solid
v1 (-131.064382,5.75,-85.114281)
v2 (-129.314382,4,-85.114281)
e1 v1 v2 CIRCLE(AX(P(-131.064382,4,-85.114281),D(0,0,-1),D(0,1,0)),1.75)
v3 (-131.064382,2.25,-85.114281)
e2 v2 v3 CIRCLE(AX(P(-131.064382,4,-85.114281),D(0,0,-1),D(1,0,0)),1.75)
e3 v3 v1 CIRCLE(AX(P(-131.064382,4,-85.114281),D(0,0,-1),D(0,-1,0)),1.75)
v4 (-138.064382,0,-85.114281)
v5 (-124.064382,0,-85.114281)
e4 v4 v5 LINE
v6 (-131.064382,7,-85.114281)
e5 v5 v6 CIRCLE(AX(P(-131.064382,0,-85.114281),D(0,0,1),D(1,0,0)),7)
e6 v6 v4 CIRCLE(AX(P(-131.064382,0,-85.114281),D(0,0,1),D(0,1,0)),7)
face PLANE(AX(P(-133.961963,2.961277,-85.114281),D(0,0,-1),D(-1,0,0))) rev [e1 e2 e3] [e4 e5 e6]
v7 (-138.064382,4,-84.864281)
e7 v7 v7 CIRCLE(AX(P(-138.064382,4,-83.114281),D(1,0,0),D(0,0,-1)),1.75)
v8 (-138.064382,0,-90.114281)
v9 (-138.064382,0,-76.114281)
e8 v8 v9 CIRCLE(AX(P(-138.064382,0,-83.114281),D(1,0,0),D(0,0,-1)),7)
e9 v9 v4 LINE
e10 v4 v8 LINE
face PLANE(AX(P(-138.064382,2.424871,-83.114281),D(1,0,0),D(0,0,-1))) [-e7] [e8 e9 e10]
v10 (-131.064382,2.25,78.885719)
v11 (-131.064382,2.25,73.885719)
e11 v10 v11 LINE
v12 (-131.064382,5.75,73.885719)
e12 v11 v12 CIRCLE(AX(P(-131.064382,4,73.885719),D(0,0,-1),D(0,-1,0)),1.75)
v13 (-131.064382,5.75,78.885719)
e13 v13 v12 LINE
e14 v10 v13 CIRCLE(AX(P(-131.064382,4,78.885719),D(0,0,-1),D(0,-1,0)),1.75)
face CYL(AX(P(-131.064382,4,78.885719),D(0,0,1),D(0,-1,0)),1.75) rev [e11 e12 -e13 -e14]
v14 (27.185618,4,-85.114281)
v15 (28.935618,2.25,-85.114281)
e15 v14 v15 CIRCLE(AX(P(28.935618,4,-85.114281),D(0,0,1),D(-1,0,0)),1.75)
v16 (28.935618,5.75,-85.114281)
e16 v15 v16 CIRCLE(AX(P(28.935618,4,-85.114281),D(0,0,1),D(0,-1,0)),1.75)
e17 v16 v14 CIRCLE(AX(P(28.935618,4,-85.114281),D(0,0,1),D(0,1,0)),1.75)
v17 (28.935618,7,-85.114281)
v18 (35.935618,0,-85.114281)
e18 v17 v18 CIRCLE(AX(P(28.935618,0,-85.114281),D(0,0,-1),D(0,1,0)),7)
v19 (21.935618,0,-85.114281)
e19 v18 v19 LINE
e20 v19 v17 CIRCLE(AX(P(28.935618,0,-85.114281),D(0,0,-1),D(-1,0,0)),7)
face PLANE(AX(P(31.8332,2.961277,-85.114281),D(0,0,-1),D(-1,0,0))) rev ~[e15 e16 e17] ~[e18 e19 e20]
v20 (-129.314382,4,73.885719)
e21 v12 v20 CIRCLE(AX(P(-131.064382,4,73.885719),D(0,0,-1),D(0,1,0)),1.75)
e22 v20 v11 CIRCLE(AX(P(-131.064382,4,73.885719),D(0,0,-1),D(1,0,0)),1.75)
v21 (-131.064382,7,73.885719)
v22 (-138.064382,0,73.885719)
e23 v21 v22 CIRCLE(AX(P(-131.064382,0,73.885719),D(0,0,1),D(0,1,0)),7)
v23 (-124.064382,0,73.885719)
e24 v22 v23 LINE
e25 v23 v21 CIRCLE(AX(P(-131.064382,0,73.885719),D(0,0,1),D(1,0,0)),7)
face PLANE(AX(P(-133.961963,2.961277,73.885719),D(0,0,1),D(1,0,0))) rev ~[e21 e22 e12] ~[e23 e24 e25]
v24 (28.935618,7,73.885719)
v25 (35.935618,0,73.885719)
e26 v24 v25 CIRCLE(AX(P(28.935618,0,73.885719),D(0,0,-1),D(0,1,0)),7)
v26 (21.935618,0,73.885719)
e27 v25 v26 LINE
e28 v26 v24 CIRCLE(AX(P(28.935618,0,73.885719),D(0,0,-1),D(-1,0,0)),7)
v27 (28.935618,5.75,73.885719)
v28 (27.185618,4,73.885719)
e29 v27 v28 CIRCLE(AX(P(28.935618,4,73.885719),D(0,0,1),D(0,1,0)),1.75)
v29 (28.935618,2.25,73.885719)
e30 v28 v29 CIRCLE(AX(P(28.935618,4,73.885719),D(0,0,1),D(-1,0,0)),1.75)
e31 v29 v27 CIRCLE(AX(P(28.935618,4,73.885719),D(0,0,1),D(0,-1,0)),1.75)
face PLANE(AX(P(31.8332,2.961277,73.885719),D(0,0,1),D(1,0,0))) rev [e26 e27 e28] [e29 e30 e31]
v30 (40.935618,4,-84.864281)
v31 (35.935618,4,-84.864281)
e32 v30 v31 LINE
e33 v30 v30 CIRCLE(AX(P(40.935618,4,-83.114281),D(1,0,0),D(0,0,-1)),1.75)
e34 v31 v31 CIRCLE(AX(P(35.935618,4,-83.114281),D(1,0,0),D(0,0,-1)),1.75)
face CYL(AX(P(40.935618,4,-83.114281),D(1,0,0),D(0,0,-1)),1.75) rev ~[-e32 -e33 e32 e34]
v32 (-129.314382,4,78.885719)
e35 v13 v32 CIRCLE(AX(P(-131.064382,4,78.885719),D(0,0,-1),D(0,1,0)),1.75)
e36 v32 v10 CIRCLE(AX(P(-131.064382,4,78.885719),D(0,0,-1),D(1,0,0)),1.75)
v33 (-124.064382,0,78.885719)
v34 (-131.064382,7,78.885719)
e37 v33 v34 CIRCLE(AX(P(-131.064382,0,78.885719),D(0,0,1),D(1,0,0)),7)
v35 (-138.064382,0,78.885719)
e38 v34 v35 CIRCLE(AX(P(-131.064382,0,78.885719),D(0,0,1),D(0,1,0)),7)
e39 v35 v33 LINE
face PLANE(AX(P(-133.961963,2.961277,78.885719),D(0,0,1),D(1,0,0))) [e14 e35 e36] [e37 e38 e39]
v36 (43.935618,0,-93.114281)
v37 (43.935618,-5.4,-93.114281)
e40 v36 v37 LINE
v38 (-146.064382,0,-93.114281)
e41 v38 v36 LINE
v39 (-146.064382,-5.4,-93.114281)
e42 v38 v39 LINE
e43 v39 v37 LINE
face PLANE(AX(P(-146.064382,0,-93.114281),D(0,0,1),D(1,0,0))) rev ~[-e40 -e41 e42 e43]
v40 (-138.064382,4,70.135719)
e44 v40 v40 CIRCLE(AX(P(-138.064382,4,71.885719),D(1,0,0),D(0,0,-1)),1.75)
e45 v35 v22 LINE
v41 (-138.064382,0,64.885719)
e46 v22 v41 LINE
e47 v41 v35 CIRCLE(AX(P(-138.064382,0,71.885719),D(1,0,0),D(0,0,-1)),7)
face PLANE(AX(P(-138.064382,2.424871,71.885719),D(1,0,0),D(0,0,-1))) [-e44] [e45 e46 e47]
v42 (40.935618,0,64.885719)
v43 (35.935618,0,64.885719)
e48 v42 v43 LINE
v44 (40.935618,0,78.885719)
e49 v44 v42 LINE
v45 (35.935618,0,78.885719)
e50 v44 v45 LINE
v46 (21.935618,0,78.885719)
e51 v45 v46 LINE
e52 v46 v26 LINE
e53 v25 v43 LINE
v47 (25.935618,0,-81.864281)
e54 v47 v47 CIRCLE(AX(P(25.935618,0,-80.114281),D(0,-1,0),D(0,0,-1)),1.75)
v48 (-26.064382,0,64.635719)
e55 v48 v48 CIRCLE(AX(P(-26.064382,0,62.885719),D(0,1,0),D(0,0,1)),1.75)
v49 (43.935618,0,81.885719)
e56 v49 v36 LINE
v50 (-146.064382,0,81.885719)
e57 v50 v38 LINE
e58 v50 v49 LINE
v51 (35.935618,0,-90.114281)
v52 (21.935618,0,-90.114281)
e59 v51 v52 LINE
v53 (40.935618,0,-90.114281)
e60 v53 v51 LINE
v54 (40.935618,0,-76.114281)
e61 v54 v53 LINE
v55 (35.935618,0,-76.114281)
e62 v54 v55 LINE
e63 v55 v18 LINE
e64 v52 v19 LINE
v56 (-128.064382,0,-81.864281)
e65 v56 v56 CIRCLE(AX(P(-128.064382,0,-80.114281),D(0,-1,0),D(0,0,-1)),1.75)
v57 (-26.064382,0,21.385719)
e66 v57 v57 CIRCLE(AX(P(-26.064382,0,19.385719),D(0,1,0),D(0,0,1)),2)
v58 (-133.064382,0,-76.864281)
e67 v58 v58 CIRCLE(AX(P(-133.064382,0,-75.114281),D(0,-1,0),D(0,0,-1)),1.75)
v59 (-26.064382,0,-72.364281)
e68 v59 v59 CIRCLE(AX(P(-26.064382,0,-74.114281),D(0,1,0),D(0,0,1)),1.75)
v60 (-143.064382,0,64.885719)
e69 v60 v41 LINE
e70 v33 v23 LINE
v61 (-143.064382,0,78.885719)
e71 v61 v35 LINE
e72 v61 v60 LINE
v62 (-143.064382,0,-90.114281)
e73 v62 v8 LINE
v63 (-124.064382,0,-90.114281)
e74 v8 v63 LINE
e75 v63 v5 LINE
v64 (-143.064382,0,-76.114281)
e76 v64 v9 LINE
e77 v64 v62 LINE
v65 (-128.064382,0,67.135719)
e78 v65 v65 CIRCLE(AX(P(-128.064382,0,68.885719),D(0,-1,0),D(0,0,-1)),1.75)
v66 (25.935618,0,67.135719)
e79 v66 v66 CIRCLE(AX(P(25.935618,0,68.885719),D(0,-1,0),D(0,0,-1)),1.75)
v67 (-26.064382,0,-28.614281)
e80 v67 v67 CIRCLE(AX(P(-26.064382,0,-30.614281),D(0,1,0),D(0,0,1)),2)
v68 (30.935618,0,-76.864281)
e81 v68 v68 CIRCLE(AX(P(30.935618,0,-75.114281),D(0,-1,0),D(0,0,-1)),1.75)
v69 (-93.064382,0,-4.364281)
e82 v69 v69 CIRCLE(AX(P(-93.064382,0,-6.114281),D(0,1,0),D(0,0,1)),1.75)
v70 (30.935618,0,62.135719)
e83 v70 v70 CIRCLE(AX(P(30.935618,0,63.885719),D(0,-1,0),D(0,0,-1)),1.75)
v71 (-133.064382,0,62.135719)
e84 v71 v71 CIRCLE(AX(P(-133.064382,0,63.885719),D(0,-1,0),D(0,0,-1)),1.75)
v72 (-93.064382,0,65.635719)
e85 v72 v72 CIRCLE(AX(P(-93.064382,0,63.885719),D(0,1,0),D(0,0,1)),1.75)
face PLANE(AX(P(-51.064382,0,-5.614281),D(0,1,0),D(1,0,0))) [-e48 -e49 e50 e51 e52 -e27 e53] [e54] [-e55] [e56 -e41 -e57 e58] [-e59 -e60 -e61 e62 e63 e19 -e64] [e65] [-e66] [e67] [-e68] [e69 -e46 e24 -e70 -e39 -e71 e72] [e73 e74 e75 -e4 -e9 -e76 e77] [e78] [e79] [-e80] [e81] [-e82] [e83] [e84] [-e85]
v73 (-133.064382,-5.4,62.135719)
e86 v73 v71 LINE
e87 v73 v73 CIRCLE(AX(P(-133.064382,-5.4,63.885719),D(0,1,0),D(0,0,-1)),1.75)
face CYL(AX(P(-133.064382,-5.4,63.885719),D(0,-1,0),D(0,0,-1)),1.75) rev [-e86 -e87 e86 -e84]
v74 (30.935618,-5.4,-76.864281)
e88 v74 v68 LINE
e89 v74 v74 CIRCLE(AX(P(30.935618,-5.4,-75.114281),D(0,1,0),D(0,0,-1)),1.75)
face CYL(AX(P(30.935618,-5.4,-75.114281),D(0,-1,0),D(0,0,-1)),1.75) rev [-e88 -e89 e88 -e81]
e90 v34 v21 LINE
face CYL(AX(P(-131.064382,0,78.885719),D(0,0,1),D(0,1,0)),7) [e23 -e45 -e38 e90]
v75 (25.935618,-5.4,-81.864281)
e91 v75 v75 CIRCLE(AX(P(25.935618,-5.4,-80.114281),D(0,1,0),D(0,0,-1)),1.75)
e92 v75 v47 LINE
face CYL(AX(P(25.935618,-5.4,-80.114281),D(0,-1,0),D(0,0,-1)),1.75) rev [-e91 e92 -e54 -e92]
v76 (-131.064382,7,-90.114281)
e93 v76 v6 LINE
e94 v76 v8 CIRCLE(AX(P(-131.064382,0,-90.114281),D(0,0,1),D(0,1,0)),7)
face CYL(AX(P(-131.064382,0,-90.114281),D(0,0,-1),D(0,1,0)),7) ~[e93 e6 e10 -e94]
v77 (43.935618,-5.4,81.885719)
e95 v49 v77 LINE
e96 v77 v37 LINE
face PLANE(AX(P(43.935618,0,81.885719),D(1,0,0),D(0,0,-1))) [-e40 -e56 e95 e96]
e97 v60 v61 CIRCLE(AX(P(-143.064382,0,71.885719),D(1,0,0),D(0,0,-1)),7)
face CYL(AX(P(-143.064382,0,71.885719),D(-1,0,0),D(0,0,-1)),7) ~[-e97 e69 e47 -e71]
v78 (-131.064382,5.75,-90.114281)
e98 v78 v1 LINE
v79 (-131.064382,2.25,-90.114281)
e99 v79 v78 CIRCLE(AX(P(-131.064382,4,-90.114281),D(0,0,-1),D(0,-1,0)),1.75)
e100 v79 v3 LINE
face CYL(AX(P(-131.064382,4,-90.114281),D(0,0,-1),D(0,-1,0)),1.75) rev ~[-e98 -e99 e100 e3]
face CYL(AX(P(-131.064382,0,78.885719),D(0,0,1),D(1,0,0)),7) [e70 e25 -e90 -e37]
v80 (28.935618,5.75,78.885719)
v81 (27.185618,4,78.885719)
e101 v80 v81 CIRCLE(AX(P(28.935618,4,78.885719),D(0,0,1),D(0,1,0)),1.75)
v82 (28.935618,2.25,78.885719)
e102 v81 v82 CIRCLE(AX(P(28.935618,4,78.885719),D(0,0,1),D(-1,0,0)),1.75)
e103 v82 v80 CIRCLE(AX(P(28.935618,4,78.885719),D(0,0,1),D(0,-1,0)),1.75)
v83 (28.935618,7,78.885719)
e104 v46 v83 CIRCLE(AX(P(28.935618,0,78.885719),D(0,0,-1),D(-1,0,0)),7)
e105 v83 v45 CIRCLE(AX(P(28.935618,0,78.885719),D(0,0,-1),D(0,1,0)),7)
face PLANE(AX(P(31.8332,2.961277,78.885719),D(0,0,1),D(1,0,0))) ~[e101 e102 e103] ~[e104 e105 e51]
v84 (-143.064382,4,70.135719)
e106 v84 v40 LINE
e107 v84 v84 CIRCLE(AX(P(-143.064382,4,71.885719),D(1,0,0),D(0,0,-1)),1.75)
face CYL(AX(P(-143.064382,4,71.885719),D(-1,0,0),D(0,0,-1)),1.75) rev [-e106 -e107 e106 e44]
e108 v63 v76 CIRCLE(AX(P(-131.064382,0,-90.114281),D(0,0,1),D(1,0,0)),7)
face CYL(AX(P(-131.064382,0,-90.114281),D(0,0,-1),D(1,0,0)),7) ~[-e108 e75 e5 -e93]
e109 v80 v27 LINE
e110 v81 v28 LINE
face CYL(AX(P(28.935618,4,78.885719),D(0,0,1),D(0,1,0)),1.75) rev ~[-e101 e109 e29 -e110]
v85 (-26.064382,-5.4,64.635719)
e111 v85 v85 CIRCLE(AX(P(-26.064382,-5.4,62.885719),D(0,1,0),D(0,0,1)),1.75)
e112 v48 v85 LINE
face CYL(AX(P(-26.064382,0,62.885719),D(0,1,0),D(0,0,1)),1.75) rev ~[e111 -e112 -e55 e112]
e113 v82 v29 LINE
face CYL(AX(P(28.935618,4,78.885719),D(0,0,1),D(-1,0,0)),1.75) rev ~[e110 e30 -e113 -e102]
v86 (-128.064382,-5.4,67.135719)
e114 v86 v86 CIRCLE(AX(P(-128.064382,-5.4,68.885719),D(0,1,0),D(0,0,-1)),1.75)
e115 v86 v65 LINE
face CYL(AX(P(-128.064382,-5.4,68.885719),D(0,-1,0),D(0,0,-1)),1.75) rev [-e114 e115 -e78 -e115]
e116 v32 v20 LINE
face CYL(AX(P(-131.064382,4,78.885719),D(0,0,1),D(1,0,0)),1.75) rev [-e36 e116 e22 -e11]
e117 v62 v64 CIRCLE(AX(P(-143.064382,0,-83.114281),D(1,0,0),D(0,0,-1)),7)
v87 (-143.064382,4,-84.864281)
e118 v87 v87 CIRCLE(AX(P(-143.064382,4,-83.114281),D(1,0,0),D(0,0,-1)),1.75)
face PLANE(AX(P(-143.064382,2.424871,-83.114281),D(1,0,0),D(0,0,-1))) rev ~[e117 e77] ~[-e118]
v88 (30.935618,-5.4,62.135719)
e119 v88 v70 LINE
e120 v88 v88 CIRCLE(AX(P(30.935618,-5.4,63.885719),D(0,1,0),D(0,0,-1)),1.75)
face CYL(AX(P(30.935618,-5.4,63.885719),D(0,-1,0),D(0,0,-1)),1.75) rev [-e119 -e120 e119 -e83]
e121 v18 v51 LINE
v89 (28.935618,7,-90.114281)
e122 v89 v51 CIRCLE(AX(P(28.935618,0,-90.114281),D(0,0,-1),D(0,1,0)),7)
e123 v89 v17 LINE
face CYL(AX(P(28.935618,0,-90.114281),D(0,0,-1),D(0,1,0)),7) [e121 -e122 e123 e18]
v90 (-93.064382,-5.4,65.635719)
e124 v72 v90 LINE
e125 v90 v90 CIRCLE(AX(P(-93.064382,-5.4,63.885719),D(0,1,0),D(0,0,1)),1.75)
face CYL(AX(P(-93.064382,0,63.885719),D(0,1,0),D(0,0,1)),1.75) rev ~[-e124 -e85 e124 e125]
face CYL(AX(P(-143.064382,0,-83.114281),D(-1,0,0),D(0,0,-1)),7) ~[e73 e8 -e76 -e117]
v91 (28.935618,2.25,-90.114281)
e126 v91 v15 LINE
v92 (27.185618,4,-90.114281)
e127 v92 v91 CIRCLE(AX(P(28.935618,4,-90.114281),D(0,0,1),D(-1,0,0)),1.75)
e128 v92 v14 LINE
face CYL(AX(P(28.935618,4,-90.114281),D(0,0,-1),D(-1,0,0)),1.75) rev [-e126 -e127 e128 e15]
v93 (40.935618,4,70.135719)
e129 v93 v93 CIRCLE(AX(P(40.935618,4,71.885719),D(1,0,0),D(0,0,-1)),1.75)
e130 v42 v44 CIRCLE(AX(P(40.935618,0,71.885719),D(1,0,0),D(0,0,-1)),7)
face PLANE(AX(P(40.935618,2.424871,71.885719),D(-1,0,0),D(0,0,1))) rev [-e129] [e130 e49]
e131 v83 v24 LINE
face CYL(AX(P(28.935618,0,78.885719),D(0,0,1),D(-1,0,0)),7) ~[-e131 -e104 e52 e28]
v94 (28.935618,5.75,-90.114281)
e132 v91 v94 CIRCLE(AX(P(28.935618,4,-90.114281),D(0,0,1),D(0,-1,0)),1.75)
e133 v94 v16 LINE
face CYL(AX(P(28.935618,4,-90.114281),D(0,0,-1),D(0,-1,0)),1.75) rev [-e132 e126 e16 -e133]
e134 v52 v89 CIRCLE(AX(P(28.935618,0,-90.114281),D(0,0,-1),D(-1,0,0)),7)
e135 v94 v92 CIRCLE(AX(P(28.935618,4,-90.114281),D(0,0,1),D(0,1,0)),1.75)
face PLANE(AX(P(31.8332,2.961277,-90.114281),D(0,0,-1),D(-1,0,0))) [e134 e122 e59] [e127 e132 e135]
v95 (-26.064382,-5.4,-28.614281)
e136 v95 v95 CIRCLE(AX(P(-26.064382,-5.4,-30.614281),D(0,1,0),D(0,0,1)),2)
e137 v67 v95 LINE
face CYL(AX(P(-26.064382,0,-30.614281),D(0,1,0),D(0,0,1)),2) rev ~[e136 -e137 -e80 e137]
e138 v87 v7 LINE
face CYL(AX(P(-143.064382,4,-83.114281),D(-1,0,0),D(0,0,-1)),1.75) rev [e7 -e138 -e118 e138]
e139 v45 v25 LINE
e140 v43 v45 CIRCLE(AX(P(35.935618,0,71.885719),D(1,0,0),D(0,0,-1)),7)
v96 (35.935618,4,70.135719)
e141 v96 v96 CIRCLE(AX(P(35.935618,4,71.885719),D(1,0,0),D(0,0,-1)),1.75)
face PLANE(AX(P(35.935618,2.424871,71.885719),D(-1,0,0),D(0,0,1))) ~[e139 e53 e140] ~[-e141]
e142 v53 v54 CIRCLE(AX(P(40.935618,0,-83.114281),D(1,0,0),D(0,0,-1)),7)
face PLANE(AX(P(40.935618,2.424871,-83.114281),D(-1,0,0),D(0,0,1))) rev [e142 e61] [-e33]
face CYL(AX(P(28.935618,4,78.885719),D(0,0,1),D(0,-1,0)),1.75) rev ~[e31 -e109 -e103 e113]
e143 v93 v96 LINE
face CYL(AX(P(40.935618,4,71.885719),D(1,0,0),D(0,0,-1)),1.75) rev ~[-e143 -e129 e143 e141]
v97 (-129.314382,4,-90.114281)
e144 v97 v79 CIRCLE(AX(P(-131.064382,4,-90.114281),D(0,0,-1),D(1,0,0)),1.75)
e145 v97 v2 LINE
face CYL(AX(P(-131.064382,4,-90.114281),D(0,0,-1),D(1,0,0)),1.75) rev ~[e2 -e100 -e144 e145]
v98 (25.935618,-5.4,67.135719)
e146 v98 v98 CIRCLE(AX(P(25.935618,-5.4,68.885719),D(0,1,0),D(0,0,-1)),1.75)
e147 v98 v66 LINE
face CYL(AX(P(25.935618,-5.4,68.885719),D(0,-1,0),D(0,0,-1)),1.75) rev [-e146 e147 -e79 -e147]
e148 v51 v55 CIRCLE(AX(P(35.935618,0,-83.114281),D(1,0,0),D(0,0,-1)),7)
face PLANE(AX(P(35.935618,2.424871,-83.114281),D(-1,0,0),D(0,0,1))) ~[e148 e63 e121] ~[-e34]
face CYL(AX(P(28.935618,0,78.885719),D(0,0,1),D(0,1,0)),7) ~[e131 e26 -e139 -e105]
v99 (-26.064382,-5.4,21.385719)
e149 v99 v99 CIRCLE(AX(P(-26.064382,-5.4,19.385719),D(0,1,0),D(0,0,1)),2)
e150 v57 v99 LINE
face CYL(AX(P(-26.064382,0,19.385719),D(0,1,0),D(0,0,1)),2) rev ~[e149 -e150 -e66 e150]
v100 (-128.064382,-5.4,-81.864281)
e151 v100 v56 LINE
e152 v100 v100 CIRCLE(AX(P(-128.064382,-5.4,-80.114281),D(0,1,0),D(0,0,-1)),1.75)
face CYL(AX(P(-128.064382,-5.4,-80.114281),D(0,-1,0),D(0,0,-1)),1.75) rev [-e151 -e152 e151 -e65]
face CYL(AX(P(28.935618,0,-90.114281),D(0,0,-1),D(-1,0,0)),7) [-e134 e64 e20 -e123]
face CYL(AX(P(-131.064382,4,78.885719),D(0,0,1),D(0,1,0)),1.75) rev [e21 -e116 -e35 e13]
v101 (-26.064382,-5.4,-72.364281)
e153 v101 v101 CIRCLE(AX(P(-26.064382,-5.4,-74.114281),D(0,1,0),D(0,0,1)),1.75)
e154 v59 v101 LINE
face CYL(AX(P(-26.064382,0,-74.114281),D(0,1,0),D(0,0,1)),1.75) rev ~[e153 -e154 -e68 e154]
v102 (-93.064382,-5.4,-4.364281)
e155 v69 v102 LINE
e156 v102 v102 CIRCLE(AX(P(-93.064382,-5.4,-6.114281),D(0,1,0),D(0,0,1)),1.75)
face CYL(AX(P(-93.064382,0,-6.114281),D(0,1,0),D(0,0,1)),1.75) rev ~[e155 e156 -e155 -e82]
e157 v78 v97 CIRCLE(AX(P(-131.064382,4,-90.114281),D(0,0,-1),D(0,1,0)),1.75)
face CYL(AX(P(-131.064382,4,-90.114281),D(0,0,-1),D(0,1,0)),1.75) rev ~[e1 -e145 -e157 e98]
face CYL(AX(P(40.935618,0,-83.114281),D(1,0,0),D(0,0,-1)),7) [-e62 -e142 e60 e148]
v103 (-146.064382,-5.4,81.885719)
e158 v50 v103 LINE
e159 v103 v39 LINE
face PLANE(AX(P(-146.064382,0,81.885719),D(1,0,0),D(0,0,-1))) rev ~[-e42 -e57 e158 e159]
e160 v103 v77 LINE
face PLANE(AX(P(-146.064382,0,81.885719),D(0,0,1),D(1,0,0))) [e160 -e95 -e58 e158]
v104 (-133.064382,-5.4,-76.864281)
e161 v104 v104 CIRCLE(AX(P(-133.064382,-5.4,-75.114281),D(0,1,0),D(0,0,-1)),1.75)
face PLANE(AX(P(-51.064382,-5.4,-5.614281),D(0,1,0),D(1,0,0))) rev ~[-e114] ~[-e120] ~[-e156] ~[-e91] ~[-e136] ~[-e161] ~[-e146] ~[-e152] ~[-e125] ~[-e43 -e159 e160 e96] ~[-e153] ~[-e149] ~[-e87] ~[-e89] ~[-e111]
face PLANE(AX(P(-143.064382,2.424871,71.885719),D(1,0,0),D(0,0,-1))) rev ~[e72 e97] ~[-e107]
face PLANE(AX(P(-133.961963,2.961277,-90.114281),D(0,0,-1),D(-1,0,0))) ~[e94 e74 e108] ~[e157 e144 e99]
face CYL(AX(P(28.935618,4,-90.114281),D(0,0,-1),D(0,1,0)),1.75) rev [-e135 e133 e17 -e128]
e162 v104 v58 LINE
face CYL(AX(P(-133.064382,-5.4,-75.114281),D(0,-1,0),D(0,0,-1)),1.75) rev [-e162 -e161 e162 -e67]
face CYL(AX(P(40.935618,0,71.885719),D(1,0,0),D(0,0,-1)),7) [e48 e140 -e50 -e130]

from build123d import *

# Parameters (mm, degrees)
SKETCH1_W                   = 190
SKETCH1_H                   = 175
SKETCH1_R                   = 2
SKETCH1_R_2                 = 1.75
BASE_DEPTH                  = 5.4
SKETCH3_R                   = 1.75
LONG_SIDE_CONNECTORS_DEPTH  = 5
SHORT_SIDE_CONNECTORS_DEPTH = 5
MIRROR3_COPY_1_DEPTH        = 5
CUT_EXTRUDE6_START          = -5.4
SKETCH11_R                  = 1.75
CUT_EXTRUDE6_DEPTH          = 179.761105811


with BuildPart() as part:
    # Sketch1 → Base (new body)
    with BuildSketch(Plane(origin=(0, 0, 0), x_dir=(1, 0, 0), z_dir=(0, 1, 0))):
        with Locations((-51.064381671, 5.614281477)):
            Rectangle(SKETCH1_W, SKETCH1_H)
        with Locations(Location((-26.064381671, 30.614281477, 0), (0, 0, 270))):
            Circle(SKETCH1_R, mode=Mode.SUBTRACT)
        with Locations(Location((-26.064381671, -19.385718523, 0), (0, 0, 270))):
            Circle(SKETCH1_R, mode=Mode.SUBTRACT)
        with Locations(Location((-26.064381671, -62.885718523, 0), (0, 0, 270))):
            Circle(SKETCH1_R_2, mode=Mode.SUBTRACT)
        with Locations(Location((-26.064381671, 74.114281477, 0), (0, 0, 270))):
            Circle(SKETCH1_R_2, mode=Mode.SUBTRACT)
        with Locations(Location((-93.064381671, 6.114281477, 0), (0, 0, 270))):
            Circle(SKETCH1_R_2, mode=Mode.SUBTRACT)
        with Locations(Location((-93.064381671, -63.885718523, 0), (0, 0, 270))):
            Circle(SKETCH1_R_2, mode=Mode.SUBTRACT)
    extrude(amount=-BASE_DEPTH)

    # Sketch3 → Long_Side_connectors (add)
    # profile 1 of 2: a face of its own
    with BuildSketch(Plane(origin=(-143.064381671, 0, 0), x_dir=(0, 0, -1), z_dir=(1, 0, 0))):
        with BuildLine():
            Line((76.114281477, 0), (90.114281477, 0))
            ThreePointArc((90.114281477, 0), (83.114281477, 7), (76.114281477, 0))
        make_face()
        with Locations((83.114281477, 4)):
            Circle(SKETCH3_R, mode=Mode.SUBTRACT)
    # profile 2 of 2: a face of its own
    with BuildSketch(Plane(origin=(-143.064381671, 0, 0), x_dir=(0, 0, -1), z_dir=(1, 0, 0))):
        with BuildLine():
            Line((-78.885718523, 0), (-64.885718523, 0))
            ThreePointArc((-64.885718523, 0), (-71.885718523, 7), (-78.885718523, 0))
        make_face()
        with Locations((-71.885718523, 4)):
            Circle(SKETCH3_R, mode=Mode.SUBTRACT)
    long_side_connectors = extrude(amount=LONG_SIDE_CONNECTORS_DEPTH)

    # Sketch4 → Short_side_connectors (add)
    with BuildSketch(Plane.XY.offset(78.885718523)):
        with BuildLine():
            ThreePointArc((-131.064381671, 7), (-136.014129139, 4.949747468), (-138.064381671, 0))
            Line((-138.064381671, 0), (-131.064381671, 0))
            Line((-131.064381671, 0), (-131.064381671, 2.25))
            ThreePointArc((-131.064381671, 2.25), (-132.814381671, 4), (-131.064381671, 5.75))
            Line((-131.064381671, 5.75), (-131.064381671, 7))
        make_face()
        with BuildLine():
            Line((-131.064381671, 2.25), (-131.064381671, 0))
            Line((-131.064381671, 0), (-124.064381671, 0))
            ThreePointArc((-124.064381671, 0), (-126.114634203, 4.949747468), (-131.064381671, 7))
            Line((-131.064381671, 7), (-131.064381671, 5.75))
            ThreePointArc((-131.064381671, 5.75), (-129.826944804, 5.237436867), (-129.314381671, 4))
            ThreePointArc((-129.314381671, 4), (-129.826944804, 2.762563133), (-131.064381671, 2.25))
        make_face()
        with BuildLine():
            ThreePointArc((-131.064381671, 7), (-136.014129139, 4.949747468), (-138.064381671, 0))
            Line((-138.064381671, 0), (-131.064381671, 0))
            Line((-131.064381671, 0), (-131.064381671, 2.25))
            ThreePointArc((-131.064381671, 2.25), (-132.814381671, 4), (-131.064381671, 5.75))
            Line((-131.064381671, 5.75), (-131.064381671, 7))
        make_face()
        with BuildLine():
            Line((-131.064381671, 2.25), (-131.064381671, 0))
            Line((-131.064381671, 0), (-124.064381671, 0))
            ThreePointArc((-124.064381671, 0), (-126.114634203, 4.949747468), (-131.064381671, 7))
            Line((-131.064381671, 7), (-131.064381671, 5.75))
            ThreePointArc((-131.064381671, 5.75), (-129.826944804, 5.237436867), (-129.314381671, 4))
            ThreePointArc((-129.314381671, 4), (-129.826944804, 2.762563133), (-131.064381671, 2.25))
        make_face()
    short_side_connectors = extrude(amount=-SHORT_SIDE_CONNECTORS_DEPTH)

    # Mirror1: Short_side_connectors across plane
    add(short_side_connectors.mirror(Plane.XY.offset(-5.614281477)))

    # Mirror3: Long_Side_connectors, Short_side_connectors across plane
    add(long_side_connectors.mirror(Plane(origin=(-51.064381671, 0, 0), x_dir=(0, 0, 1), z_dir=(1, 0, 0))))
    add(short_side_connectors.mirror(Plane(origin=(-51.064381671, 0, 0), x_dir=(0, 0, 1), z_dir=(1, 0, 0))))

    # Mirror3 copy 1 sketch → Mirror3 copy 1 (add)
    with BuildSketch(Plane(origin=(-102.128763342, 0, -90.114281477), x_dir=(-1, 0, 0), z_dir=(0, 0, -1))):
        with BuildLine():
            ThreePointArc((-131.064381671, 7), (-136.014129139, 4.949747468), (-138.064381671, 0))
            Line((-138.064381671, 0), (-131.064381671, 0))
            Line((-131.064381671, 0), (-131.064381671, 2.25))
            ThreePointArc((-131.064381671, 2.25), (-132.814381671, 4), (-131.064381671, 5.75))
            Line((-131.064381671, 5.75), (-131.064381671, 7))
        make_face()
        with BuildLine():
            Line((-131.064381671, 2.25), (-131.064381671, 0))
            Line((-131.064381671, 0), (-124.064381671, 0))
            ThreePointArc((-124.064381671, 0), (-126.114634203, 4.949747468), (-131.064381671, 7))
            Line((-131.064381671, 7), (-131.064381671, 5.75))
            ThreePointArc((-131.064381671, 5.75), (-129.826944804, 5.237436867), (-129.314381671, 4))
            ThreePointArc((-129.314381671, 4), (-129.826944804, 2.762563133), (-131.064381671, 2.25))
        make_face()
        with BuildLine():
            ThreePointArc((-131.064381671, 7), (-136.014129139, 4.949747468), (-138.064381671, 0))
            Line((-138.064381671, 0), (-131.064381671, 0))
            Line((-131.064381671, 0), (-131.064381671, 2.25))
            ThreePointArc((-131.064381671, 2.25), (-132.814381671, 4), (-131.064381671, 5.75))
            Line((-131.064381671, 5.75), (-131.064381671, 7))
        make_face()
        with BuildLine():
            Line((-131.064381671, 2.25), (-131.064381671, 0))
            Line((-131.064381671, 0), (-124.064381671, 0))
            ThreePointArc((-124.064381671, 0), (-126.114634203, 4.949747468), (-131.064381671, 7))
            Line((-131.064381671, 7), (-131.064381671, 5.75))
            ThreePointArc((-131.064381671, 5.75), (-129.826944804, 5.237436867), (-129.314381671, 4))
            ThreePointArc((-129.314381671, 4), (-129.826944804, 2.762563133), (-131.064381671, 2.25))
        make_face()
    extrude(amount=-MIRROR3_COPY_1_DEPTH)

    # Sketch11 → Cut-Extrude6 (cut, through all)
    with BuildSketch(Plane(origin=(0, 0, 0), x_dir=(1, 0, 0), z_dir=(0, 1, 0)).offset(CUT_EXTRUDE6_START)):
        with Locations(Location((-133.064381671, -63.885718523, 0), (0, 0, 90))):
            Circle(SKETCH11_R)
        with Locations(Location((-128.064381671, -68.885718523, 0), (0, 0, 90))):
            Circle(SKETCH11_R)
        with Locations(Location((-133.064381671, 75.114281477, 0), (0, 0, 90))):
            Circle(SKETCH11_R)
        with Locations(Location((-128.064381671, 80.114281477, 0), (0, 0, 90))):
            Circle(SKETCH11_R)
        with Locations(Location((30.935618329, -63.885718523, 0), (0, 0, 90))):
            Circle(SKETCH11_R)
        with Locations(Location((25.935618329, -68.885718523, 0), (0, 0, 90))):
            Circle(SKETCH11_R)
        with Locations(Location((30.935618329, 75.114281477, 0), (0, 0, 90))):
            Circle(SKETCH11_R)
        with Locations(Location((25.935618329, 80.114281477, 0), (0, 0, 90))):
            Circle(SKETCH11_R)
    extrude(amount=CUT_EXTRUDE6_DEPTH, mode=Mode.SUBTRACT)


solid = part.part
